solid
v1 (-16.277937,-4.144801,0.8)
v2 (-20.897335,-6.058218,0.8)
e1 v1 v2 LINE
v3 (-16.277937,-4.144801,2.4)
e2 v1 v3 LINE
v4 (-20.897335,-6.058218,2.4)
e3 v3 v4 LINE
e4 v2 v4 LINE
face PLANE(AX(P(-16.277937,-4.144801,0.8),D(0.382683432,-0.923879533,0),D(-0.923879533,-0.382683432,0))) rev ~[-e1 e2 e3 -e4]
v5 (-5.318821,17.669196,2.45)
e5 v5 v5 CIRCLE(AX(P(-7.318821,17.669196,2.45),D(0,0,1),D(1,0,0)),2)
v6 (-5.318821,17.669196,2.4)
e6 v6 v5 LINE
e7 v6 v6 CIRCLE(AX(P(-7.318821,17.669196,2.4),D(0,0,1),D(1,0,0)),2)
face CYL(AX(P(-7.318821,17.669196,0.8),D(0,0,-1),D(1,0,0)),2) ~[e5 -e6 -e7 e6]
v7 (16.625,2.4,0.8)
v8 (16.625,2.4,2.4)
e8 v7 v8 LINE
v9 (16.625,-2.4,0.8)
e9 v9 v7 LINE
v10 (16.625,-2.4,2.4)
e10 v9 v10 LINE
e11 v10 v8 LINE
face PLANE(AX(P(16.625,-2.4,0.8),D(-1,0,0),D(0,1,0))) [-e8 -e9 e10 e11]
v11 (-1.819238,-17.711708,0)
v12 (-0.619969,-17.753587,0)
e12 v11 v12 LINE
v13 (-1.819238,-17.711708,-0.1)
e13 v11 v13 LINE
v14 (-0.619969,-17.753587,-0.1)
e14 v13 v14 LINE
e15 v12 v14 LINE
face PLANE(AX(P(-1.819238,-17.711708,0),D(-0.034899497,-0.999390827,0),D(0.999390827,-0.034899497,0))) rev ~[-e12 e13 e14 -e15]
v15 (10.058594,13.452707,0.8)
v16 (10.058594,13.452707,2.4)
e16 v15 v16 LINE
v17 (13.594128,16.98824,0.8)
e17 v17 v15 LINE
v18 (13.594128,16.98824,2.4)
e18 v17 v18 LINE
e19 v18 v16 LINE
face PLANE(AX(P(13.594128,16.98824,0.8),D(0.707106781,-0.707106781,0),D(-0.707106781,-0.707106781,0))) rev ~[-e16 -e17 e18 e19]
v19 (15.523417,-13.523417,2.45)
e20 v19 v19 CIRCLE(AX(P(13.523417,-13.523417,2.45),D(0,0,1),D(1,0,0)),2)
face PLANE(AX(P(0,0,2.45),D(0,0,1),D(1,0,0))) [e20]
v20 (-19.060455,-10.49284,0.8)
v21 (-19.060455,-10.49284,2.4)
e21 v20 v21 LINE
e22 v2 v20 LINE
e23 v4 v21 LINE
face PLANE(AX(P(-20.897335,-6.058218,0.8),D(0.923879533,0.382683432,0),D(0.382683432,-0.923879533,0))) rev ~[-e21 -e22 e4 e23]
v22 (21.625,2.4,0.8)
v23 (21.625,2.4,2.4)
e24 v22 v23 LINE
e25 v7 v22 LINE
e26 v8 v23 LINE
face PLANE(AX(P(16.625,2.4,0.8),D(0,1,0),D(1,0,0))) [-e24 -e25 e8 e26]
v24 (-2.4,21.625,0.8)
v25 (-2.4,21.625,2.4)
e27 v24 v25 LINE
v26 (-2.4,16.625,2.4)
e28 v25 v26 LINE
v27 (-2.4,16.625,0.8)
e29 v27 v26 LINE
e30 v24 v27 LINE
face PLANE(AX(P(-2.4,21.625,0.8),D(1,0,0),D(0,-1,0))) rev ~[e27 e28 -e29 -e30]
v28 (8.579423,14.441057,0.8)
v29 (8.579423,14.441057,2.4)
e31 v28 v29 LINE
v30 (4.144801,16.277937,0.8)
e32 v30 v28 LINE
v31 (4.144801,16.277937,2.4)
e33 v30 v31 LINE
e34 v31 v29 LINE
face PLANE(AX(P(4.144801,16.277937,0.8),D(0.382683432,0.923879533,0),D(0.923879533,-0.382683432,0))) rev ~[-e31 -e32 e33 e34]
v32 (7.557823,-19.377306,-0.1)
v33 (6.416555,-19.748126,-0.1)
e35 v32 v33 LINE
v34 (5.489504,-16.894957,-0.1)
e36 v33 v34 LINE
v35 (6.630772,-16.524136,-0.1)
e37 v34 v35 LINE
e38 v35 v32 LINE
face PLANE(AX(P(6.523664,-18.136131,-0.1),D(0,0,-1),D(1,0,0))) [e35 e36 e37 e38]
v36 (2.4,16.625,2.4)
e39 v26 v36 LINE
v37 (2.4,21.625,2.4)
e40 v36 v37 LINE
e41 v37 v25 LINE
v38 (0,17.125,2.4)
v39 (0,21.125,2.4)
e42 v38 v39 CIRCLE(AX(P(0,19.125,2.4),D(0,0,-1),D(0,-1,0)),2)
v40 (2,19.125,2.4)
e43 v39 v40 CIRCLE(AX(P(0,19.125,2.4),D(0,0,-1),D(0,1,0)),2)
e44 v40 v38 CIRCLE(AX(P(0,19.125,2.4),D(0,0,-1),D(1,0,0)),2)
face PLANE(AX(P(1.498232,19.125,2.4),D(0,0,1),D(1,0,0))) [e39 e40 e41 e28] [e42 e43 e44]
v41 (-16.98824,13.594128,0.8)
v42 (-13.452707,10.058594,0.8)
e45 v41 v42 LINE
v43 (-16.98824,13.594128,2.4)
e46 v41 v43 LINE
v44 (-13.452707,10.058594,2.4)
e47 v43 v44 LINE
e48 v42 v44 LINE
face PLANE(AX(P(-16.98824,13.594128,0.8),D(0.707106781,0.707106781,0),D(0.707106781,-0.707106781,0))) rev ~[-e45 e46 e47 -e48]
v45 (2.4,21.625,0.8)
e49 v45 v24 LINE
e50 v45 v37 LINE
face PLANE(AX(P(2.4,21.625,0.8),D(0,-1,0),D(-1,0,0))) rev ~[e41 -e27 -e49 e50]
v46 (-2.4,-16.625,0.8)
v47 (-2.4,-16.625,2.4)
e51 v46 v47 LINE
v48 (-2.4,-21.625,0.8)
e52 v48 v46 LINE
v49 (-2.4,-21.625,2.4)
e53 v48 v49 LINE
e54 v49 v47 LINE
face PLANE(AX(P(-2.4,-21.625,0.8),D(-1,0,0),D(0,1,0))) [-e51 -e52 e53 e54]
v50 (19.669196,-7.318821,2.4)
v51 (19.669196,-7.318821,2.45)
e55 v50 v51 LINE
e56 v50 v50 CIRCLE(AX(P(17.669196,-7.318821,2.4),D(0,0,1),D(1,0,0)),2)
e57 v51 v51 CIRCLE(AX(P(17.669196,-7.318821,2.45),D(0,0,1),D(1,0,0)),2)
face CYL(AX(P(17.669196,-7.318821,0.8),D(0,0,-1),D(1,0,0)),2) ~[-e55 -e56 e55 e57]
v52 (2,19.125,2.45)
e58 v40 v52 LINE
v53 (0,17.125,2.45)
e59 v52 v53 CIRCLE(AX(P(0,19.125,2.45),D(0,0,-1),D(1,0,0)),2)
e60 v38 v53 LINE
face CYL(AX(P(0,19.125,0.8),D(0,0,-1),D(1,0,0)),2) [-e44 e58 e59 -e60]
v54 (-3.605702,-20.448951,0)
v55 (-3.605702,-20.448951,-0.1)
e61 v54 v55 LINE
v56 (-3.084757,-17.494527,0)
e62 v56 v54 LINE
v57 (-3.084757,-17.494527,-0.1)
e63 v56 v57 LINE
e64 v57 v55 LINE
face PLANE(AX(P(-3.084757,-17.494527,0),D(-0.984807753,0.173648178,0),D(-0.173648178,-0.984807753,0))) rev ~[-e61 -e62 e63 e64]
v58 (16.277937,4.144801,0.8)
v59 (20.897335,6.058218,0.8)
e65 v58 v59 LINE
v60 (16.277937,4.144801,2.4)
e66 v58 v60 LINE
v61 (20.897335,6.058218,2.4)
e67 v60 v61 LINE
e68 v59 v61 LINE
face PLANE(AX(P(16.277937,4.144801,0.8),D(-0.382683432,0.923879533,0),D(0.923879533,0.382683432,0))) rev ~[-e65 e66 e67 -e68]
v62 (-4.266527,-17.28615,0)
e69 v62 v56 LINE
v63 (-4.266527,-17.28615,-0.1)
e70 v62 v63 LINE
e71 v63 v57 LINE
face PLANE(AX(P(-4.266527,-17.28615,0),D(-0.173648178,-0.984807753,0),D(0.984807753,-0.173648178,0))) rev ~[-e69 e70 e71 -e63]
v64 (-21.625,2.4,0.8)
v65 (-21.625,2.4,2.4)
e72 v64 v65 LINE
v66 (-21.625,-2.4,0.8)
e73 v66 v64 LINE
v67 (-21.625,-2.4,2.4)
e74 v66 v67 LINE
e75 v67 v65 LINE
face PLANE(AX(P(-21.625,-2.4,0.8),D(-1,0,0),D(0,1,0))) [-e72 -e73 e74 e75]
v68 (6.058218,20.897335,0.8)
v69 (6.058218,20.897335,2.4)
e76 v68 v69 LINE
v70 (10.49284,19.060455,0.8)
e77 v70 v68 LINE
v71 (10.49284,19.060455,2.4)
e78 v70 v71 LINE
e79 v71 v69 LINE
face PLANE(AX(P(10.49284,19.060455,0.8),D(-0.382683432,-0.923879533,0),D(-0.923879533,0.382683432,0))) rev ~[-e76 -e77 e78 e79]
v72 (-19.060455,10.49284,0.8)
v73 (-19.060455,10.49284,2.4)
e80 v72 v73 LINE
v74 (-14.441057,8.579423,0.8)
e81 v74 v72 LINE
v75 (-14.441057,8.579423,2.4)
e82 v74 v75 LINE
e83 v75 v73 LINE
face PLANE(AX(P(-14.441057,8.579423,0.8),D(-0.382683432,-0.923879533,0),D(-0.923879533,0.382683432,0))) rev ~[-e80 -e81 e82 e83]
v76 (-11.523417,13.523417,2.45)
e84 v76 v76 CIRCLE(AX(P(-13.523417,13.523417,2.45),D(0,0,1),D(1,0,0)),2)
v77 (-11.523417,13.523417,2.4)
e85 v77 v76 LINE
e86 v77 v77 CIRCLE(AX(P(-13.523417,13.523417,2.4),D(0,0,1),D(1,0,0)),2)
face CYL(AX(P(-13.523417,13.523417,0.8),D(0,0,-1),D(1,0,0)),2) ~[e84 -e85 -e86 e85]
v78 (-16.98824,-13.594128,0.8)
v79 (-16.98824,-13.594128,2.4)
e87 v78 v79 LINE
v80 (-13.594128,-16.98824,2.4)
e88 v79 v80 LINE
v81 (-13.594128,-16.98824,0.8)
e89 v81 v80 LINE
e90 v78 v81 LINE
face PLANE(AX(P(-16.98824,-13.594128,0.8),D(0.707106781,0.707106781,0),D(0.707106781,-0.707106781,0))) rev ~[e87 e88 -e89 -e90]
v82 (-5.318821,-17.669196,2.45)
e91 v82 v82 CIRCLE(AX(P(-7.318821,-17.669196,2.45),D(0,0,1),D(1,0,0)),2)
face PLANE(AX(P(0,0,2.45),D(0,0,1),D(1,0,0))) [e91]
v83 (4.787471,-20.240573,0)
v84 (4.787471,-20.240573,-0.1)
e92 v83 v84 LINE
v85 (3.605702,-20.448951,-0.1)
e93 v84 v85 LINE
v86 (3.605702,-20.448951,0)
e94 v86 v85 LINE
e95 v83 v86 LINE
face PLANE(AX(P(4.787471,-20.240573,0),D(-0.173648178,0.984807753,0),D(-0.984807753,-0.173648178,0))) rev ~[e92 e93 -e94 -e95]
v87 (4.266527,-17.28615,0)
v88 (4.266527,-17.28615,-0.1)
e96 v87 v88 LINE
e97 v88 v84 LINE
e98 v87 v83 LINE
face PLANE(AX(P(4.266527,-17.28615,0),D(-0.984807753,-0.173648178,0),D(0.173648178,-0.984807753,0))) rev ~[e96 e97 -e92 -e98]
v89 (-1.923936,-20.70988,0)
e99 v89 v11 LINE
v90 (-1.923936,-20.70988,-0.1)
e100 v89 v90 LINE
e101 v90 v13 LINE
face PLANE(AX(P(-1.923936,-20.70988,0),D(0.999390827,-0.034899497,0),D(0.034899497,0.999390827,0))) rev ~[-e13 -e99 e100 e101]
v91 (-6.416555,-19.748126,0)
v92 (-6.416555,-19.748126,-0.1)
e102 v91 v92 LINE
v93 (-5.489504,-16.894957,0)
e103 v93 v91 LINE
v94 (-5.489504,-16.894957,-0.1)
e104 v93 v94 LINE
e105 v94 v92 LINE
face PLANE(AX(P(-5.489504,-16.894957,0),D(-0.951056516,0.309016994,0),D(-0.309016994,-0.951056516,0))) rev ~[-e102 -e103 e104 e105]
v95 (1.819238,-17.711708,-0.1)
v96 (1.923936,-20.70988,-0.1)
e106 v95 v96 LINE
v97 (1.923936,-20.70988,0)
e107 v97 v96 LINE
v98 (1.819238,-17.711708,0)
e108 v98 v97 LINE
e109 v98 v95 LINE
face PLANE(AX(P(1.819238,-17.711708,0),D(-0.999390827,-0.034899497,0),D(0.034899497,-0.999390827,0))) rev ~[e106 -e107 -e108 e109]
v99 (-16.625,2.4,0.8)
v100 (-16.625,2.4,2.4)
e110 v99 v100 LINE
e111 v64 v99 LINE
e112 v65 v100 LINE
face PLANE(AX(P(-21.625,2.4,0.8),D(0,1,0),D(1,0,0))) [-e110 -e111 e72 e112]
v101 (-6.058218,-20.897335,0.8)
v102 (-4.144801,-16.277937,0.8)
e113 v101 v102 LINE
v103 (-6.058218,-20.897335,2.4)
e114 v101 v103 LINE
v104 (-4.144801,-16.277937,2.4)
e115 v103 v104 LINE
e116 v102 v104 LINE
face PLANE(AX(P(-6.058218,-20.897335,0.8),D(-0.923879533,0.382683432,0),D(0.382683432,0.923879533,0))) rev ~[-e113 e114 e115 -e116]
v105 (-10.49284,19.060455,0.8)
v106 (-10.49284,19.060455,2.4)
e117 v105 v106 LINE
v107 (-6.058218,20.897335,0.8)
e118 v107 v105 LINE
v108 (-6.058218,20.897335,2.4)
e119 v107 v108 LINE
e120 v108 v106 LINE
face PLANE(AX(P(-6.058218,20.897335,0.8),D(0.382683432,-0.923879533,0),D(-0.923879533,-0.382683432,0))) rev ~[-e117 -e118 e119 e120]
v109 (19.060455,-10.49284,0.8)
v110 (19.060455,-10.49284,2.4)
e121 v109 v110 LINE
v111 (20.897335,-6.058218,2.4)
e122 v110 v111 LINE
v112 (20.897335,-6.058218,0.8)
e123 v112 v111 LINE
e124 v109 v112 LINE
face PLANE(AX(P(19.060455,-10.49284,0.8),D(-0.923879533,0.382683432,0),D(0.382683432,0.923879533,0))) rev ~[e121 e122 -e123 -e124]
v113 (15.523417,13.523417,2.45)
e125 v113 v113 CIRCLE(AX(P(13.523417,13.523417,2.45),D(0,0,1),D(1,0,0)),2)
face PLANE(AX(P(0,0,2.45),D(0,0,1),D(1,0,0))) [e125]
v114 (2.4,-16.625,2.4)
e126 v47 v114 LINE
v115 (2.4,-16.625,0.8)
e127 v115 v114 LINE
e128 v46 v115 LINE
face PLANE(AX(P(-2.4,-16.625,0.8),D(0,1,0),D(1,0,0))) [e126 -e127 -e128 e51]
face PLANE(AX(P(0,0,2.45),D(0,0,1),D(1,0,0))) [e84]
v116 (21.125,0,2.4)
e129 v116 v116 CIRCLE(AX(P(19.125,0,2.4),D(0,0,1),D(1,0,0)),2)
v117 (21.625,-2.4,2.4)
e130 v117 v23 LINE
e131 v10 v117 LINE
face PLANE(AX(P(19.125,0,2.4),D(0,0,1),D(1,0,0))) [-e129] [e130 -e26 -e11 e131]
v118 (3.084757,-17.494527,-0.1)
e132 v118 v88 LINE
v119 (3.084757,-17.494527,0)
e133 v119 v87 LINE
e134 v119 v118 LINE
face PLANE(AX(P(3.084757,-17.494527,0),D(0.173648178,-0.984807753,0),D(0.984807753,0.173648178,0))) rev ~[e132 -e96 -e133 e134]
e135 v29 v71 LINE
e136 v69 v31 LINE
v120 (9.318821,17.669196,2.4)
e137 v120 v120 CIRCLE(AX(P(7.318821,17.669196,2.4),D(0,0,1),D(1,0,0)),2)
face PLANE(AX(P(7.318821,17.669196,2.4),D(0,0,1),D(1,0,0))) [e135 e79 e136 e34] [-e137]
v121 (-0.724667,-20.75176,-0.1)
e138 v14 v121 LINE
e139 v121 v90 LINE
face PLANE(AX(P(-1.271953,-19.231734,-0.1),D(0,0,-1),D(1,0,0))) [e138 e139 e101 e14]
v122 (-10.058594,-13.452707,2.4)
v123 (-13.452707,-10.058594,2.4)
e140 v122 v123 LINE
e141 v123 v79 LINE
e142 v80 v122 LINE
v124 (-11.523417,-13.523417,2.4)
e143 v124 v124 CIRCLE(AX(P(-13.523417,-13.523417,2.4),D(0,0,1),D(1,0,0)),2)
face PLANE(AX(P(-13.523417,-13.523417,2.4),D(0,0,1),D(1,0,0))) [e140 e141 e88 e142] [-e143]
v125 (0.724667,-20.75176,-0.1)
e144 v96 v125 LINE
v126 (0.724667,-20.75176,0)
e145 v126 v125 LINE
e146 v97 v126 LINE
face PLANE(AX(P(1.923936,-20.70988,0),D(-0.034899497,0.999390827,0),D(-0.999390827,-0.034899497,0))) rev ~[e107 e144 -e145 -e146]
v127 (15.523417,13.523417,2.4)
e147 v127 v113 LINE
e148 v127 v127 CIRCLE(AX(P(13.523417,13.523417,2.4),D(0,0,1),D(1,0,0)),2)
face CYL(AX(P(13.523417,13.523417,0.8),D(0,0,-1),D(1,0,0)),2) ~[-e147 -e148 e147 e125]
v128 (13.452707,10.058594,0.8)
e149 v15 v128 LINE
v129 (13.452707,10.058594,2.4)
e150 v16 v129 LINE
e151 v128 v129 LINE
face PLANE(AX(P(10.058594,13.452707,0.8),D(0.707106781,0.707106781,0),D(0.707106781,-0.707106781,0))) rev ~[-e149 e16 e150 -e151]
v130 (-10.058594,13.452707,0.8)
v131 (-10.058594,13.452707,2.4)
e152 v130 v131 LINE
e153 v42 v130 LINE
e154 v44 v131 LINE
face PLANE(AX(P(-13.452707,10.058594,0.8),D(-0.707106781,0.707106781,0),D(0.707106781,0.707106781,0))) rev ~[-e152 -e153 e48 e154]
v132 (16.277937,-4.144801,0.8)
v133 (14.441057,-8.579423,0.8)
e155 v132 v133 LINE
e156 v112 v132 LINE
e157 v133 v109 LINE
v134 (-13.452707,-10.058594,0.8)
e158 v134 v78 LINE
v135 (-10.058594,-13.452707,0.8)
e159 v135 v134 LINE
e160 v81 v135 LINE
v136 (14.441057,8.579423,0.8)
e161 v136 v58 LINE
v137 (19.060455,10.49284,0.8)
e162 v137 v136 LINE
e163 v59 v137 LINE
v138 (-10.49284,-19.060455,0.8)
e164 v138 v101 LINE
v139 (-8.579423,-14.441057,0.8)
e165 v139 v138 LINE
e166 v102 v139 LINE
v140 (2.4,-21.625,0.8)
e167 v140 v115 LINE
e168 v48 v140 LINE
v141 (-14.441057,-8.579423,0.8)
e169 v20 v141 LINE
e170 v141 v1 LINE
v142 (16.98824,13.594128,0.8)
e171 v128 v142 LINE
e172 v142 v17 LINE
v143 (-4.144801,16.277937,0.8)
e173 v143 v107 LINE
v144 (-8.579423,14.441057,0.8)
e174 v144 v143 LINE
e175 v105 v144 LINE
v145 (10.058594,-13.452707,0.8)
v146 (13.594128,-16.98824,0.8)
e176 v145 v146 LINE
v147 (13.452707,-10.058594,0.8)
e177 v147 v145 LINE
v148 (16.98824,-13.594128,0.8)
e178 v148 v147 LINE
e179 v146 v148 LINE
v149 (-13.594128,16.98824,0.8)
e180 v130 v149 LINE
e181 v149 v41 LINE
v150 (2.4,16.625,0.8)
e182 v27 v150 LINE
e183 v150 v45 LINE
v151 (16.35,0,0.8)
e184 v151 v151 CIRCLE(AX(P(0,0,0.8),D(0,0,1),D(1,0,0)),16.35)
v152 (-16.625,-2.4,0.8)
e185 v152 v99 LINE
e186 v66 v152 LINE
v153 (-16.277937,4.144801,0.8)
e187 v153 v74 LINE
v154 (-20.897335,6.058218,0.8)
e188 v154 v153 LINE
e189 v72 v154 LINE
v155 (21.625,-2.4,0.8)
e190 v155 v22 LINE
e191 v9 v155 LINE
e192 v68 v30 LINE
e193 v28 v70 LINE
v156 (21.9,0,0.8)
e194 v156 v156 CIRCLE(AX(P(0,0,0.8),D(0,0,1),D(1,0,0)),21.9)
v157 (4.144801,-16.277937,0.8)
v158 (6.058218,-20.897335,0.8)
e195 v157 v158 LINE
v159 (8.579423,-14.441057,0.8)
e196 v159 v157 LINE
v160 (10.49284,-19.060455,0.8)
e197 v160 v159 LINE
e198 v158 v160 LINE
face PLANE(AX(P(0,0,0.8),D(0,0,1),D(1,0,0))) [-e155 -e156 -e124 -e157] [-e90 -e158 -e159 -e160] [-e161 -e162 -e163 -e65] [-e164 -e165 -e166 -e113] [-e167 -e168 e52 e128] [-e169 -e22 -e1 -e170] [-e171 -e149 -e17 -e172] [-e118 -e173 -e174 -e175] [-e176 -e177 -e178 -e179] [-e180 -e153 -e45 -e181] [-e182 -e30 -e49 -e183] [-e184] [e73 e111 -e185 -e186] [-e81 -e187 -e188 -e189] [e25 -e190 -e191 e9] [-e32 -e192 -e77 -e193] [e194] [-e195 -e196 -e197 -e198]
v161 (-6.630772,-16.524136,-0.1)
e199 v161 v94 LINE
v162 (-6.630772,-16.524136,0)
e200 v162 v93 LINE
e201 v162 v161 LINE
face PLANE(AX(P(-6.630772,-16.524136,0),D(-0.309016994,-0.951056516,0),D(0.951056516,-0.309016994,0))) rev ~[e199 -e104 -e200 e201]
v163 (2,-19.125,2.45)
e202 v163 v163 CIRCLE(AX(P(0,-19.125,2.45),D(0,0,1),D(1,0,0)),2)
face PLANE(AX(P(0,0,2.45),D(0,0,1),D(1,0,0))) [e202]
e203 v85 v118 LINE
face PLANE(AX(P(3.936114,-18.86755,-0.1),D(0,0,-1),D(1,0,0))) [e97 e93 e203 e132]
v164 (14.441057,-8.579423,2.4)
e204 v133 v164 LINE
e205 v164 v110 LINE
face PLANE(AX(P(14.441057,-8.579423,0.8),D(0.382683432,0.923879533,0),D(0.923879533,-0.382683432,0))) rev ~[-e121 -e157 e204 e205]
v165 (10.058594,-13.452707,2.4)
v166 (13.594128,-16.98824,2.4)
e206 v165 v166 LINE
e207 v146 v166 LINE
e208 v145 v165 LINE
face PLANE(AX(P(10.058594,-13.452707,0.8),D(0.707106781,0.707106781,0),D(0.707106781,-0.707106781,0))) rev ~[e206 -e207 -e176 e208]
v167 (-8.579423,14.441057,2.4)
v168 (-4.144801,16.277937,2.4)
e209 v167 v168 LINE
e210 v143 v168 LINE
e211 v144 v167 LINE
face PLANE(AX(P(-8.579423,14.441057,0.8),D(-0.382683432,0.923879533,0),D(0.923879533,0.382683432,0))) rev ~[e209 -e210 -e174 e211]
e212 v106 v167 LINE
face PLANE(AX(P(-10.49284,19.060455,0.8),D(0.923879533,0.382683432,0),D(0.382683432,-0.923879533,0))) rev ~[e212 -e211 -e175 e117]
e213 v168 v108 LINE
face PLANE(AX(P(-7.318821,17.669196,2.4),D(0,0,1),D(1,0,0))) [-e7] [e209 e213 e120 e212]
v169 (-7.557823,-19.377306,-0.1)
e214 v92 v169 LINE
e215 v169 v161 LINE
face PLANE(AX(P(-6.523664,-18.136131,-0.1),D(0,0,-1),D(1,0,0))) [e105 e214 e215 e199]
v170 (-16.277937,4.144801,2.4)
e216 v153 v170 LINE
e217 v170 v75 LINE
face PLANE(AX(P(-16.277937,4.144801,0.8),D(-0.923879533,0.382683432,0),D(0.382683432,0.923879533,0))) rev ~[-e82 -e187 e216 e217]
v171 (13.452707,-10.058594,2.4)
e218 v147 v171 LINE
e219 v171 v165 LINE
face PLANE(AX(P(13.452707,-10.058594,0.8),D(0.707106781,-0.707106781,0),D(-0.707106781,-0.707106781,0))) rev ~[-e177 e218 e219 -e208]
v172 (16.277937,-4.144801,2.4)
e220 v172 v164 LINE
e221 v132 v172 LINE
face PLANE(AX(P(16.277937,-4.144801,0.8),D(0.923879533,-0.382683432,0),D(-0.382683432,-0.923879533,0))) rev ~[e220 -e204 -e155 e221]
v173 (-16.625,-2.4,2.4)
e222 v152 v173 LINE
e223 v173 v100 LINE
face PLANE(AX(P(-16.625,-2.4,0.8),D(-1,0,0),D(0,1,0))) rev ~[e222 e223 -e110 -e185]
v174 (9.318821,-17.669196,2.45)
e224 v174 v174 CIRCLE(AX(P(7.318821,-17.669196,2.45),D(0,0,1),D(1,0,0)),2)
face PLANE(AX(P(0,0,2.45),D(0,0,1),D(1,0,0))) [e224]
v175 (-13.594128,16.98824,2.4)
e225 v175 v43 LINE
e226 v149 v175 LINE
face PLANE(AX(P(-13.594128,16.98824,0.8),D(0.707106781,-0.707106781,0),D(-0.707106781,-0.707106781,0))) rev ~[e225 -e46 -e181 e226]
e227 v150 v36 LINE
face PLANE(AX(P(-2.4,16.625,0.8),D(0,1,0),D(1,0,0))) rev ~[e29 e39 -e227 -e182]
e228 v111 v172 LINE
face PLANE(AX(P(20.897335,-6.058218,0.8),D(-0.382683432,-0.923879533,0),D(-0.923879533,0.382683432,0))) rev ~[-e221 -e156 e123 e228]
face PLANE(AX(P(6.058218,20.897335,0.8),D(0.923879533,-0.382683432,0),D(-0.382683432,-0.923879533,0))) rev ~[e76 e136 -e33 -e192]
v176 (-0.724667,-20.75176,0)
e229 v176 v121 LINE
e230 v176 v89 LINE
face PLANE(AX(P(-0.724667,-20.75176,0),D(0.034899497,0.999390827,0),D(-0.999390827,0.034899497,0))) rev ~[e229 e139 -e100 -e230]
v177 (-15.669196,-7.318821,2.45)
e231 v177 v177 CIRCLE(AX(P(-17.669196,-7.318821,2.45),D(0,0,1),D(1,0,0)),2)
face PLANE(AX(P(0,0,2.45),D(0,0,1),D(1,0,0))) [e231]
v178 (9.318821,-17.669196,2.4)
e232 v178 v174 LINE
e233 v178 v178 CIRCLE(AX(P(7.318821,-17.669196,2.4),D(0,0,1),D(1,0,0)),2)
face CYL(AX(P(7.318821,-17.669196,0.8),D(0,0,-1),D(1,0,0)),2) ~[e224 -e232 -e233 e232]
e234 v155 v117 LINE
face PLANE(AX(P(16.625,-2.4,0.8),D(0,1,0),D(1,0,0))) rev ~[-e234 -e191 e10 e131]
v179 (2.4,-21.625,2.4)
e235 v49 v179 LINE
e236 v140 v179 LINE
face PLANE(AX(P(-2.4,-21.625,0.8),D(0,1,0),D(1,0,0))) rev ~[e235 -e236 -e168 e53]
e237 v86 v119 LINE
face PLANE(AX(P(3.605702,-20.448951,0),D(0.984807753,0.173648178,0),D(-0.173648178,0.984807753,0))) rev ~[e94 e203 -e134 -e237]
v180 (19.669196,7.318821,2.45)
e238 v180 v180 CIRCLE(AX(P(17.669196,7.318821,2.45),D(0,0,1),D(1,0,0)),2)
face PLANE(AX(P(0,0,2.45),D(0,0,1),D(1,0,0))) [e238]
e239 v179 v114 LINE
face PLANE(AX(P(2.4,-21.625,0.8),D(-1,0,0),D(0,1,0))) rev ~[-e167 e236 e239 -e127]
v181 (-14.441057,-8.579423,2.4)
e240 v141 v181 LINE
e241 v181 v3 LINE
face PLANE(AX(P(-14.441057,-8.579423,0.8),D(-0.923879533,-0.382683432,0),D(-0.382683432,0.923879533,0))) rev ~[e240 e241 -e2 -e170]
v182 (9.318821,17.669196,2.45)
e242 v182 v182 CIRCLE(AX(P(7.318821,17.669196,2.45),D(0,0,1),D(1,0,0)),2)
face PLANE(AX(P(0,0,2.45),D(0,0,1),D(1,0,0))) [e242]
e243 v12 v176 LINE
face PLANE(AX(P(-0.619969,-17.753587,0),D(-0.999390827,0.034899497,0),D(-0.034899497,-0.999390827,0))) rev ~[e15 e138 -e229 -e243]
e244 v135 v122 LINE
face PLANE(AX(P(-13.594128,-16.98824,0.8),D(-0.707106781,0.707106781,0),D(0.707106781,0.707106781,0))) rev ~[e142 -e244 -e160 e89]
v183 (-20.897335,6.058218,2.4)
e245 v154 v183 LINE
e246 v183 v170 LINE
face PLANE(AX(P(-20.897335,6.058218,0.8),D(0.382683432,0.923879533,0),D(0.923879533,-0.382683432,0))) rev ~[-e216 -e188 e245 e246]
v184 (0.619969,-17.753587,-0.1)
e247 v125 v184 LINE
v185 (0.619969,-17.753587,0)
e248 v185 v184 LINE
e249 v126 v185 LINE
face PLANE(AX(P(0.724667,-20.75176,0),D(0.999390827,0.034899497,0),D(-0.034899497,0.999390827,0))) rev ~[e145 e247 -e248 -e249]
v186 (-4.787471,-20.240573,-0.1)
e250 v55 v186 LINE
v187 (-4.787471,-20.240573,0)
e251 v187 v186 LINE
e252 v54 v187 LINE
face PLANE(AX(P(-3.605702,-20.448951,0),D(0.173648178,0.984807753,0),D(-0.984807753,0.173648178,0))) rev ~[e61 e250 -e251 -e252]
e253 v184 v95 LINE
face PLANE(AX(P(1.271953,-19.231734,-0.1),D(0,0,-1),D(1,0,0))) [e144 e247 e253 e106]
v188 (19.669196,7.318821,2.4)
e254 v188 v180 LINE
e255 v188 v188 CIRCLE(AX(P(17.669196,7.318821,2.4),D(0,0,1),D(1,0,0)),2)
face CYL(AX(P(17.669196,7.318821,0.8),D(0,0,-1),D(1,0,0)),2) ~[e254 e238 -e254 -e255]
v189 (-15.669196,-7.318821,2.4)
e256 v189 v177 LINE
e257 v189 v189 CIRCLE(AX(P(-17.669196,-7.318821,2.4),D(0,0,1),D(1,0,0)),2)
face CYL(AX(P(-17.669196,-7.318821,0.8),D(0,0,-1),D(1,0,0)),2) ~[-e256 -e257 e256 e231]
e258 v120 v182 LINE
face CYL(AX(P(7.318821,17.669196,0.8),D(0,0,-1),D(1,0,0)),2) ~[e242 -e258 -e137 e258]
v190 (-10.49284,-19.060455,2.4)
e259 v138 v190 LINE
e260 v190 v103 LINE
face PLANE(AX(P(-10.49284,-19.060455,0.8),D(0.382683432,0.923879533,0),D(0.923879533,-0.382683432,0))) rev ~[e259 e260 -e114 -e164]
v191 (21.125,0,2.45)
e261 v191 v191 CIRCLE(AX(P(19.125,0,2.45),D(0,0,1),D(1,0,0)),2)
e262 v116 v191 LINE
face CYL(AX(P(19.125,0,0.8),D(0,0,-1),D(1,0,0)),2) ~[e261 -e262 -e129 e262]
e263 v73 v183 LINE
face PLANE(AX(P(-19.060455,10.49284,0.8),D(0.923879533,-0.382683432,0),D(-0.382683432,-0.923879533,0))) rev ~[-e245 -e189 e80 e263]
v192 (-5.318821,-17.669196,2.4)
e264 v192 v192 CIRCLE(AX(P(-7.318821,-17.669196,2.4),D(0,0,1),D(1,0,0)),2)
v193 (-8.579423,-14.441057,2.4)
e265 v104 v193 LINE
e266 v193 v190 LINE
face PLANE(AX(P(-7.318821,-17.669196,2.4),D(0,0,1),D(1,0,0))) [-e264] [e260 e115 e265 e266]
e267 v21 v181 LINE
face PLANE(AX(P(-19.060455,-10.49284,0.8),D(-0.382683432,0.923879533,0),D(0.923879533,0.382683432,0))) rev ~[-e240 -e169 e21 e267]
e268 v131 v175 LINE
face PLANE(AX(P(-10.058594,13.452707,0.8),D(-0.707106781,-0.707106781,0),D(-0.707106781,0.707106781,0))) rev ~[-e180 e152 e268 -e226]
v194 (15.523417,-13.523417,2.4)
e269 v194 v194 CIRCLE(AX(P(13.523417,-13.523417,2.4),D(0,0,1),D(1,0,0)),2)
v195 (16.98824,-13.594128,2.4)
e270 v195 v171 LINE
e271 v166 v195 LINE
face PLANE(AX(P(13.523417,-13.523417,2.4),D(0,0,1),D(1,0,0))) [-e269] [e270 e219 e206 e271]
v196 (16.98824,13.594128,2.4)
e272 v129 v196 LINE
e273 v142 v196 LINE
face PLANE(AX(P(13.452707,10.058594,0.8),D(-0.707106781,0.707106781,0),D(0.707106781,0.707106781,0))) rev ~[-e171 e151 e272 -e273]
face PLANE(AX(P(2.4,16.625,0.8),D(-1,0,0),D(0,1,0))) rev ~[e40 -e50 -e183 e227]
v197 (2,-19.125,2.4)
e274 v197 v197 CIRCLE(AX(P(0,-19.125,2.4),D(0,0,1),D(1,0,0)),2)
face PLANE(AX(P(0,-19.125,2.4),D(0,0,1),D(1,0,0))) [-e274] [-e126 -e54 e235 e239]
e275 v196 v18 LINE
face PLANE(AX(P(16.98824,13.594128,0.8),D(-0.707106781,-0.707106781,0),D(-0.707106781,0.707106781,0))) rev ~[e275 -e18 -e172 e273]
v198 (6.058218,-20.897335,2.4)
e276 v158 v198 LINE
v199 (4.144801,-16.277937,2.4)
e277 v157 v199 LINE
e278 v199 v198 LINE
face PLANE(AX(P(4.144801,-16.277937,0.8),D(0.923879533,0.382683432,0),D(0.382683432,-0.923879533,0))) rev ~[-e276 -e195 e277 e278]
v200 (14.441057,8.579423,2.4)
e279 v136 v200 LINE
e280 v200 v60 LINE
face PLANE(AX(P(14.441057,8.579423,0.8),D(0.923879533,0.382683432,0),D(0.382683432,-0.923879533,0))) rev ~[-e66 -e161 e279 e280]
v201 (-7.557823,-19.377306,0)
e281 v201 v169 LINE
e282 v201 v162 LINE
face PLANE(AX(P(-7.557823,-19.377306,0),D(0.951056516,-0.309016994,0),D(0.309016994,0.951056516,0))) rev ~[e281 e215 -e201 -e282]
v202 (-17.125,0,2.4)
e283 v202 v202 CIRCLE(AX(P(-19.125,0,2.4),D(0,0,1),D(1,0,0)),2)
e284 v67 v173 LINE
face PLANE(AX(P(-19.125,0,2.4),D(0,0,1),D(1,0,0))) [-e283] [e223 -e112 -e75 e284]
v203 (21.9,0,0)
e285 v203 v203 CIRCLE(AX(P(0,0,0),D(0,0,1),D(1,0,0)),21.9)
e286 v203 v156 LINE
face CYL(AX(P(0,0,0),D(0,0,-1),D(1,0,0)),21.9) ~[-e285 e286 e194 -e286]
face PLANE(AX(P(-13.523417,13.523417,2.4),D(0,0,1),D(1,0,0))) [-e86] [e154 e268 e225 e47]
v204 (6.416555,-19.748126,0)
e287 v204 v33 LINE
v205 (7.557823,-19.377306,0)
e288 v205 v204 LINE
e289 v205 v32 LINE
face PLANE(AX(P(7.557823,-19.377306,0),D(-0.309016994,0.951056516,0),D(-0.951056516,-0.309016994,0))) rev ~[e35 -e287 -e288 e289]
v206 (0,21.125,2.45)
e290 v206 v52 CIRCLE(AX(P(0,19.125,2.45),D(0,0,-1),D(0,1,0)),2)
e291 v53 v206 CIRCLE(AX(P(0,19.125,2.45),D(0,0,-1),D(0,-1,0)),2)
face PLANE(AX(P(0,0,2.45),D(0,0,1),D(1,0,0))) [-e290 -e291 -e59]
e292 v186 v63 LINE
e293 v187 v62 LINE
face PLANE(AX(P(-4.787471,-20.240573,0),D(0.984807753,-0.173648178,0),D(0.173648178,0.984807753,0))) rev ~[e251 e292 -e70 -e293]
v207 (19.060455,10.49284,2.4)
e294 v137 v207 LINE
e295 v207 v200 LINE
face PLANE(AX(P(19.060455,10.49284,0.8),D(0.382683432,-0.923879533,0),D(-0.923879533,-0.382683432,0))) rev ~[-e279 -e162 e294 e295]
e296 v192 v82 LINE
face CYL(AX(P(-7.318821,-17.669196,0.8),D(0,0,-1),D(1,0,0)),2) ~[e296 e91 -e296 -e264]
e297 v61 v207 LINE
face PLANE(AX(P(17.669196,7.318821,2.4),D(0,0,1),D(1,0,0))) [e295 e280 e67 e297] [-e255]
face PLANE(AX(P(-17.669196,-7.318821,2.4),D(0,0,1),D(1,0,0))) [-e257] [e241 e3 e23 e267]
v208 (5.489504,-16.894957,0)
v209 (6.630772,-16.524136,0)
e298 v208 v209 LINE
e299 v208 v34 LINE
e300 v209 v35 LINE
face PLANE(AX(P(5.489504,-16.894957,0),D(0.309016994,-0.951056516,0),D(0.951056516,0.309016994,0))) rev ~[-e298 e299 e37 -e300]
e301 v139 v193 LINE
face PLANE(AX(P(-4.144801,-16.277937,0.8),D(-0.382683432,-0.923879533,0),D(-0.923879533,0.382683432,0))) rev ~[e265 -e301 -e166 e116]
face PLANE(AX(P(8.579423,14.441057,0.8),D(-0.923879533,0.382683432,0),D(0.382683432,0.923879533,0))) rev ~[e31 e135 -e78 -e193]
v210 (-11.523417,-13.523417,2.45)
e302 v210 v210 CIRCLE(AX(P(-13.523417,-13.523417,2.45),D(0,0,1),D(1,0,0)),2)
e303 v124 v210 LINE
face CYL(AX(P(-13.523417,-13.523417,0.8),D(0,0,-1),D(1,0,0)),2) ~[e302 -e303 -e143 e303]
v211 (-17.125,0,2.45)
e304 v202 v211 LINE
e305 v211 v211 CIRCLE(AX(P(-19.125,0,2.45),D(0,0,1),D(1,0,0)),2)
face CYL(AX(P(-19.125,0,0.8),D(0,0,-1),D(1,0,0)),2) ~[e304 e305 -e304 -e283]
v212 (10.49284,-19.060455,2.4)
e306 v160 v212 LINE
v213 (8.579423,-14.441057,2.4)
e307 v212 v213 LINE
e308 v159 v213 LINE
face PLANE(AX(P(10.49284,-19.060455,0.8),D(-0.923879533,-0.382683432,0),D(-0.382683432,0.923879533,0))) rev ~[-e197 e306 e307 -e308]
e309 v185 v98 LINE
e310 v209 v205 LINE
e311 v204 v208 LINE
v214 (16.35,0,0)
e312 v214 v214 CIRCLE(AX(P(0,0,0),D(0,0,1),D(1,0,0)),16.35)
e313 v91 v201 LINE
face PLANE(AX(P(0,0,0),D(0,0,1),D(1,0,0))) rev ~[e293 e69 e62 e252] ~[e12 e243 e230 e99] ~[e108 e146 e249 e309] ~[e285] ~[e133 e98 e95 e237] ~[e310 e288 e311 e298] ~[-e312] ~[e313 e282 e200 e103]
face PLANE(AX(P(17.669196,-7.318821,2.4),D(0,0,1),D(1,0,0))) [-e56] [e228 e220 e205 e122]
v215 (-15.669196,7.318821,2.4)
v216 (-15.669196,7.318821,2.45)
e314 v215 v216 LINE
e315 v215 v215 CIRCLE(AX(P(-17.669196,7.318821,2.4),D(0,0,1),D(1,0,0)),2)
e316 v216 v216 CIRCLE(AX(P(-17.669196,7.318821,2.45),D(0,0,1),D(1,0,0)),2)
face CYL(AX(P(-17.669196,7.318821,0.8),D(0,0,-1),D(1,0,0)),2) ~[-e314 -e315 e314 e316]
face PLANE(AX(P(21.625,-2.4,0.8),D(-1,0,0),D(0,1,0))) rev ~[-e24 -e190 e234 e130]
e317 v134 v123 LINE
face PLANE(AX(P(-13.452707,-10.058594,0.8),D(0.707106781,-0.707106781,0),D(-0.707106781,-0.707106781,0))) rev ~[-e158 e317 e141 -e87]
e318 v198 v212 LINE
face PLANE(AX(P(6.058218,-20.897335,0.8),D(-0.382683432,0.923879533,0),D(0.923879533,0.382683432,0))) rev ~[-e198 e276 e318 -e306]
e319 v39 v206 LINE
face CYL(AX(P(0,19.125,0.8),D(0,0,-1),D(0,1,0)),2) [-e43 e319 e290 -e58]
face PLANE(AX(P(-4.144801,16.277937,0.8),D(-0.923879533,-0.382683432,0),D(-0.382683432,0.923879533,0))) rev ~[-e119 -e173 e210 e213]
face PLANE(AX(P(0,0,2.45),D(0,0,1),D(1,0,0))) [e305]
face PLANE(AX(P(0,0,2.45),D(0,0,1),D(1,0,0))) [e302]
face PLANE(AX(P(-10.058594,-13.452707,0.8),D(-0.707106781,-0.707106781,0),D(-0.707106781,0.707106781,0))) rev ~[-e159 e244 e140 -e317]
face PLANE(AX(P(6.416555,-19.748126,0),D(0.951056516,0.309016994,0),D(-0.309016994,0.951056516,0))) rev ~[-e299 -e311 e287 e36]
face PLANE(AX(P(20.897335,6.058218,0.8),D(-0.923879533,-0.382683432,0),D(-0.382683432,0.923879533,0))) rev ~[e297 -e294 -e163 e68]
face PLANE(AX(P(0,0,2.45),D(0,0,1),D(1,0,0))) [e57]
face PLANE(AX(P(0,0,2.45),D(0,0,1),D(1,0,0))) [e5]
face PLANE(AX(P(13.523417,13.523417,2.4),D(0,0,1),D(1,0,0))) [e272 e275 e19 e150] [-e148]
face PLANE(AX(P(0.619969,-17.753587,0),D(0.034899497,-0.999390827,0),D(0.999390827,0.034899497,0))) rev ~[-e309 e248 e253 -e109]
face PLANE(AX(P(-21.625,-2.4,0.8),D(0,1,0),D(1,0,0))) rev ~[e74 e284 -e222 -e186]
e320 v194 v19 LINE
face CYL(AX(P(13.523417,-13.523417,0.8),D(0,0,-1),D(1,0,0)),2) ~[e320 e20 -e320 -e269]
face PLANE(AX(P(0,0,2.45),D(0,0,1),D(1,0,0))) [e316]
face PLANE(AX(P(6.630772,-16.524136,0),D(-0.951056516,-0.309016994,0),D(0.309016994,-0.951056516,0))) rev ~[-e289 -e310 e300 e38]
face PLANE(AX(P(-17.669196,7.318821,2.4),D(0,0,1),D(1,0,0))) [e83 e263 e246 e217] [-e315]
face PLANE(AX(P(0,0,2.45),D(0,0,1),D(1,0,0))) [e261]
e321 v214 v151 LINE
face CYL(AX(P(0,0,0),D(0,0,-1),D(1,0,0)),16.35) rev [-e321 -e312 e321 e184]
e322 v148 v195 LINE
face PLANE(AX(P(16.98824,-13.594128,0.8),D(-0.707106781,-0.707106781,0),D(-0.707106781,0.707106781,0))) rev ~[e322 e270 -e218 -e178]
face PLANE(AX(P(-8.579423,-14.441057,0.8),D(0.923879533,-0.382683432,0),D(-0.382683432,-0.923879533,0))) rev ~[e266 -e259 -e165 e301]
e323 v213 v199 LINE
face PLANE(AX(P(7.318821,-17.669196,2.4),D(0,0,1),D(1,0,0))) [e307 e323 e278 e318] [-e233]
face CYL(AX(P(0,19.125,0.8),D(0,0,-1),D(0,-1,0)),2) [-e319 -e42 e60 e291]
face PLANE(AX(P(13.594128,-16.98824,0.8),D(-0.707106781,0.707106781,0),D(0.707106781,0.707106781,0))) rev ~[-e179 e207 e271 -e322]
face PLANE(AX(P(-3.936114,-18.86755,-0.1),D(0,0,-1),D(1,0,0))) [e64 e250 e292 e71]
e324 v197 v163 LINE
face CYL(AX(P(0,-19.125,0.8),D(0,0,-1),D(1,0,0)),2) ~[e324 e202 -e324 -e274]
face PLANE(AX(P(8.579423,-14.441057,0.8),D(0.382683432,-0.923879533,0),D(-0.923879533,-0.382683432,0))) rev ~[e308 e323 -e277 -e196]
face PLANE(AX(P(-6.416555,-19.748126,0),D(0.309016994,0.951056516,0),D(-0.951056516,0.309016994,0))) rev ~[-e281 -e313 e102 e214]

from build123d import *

# Parameters (mm, degrees)
F0_R     = 21.9
F0_R_2   = 16.35
F1_DEPTH = 0.8
F2_R     = 2
F2_W     = 5
F2_H     = 4.8
F2_W_2   = 4.8
F2_H_2   = 5
F3_DEPTH = 1.6
F4_DEPTH = 1.65
F6_DEPTH = 0.1


with BuildPart() as f1:
    # F0 (on Top) → F1 (new body)
    with BuildSketch(Plane.XY):
        Circle(F0_R)
        Circle(F0_R_2, mode=Mode.SUBTRACT)
    extrude(amount=F1_DEPTH)

    # F2 (on face) → F3 (join)
    with BuildSketch(Plane.XY.offset(0.8)):
        with BuildLine():
            Line((2.4, 21.625), (0, 21.625))
            Line((0, 21.625), (0, 21.125))
            ThreePointArc((0, 21.125), (1.4142135624, 20.5392135624), (2, 19.125))
            ThreePointArc((2, 19.125), (1.4142135624, 17.7107864376), (0, 17.125))
            Line((0, 17.125), (0, 16.625))
            Line((0, 16.625), (2.4, 16.625))
            Line((2.4, 16.625), (2.4, 21.625))
        make_face()
        with BuildLine():
            Line((0, 21.125), (0, 21.625))
            Line((0, 21.625), (-2.4, 21.625))
            Line((-2.4, 21.625), (-2.4, 16.625))
            Line((-2.4, 16.625), (0, 16.625))
            Line((0, 16.625), (0, 17.125))
            ThreePointArc((0, 17.125), (-2, 19.125), (0, 21.125))
        make_face()
        Polygon((-10.4928401029, 19.0604546529), (-8.5794229411, 14.4410569903), (-4.144801185, 16.2779374657), (-6.0582183469, 20.8973351282), align=None)
        with Locations((-7.318820644, 17.6691960593)):
            Circle(F2_R, mode=Mode.SUBTRACT)
        Polygon((-16.988240418, 13.5941278683), (-13.4527065121, 10.0585939624), (-10.0585939624, 13.4527065121), (-13.5941278683, 16.988240418), align=None)
        with Locations((-13.5234171902, 13.5234171902)):
            Circle(F2_R, mode=Mode.SUBTRACT)
        Polygon((-20.8973351282, 6.0582183469), (-16.2779374657, 4.144801185), (-14.4410569903, 8.5794229411), (-19.0604546529, 10.4928401029), align=None)
        with Locations((-17.6691960593, 7.318820644)):
            Circle(F2_R, mode=Mode.SUBTRACT)
        with Locations((-19.125, 0)):
            Rectangle(F2_W, F2_H)
        with Locations((-19.125, 0)):
            Circle(F2_R, mode=Mode.SUBTRACT)
        Polygon((-19.0604546529, -10.4928401029), (-14.4410569903, -8.5794229411), (-16.2779374657, -4.144801185), (-20.8973351282, -6.0582183469), align=None)
        with Locations((-17.6691960593, -7.318820644)):
            Circle(F2_R, mode=Mode.SUBTRACT)
        Polygon((-13.5941278683, -16.988240418), (-10.0585939624, -13.4527065121), (-13.4527065121, -10.0585939624), (-16.988240418, -13.5941278683), align=None)
        with Locations((-13.5234171902, -13.5234171902)):
            Circle(F2_R, mode=Mode.SUBTRACT)
        Polygon((-6.0582183469, -20.8973351282), (-4.144801185, -16.2779374657), (-8.5794229411, -14.4410569903), (-10.4928401029, -19.0604546529), align=None)
        with Locations((-7.318820644, -17.6691960593)):
            Circle(F2_R, mode=Mode.SUBTRACT)
        with Locations((0, -19.125)):
            Rectangle(F2_W_2, F2_H_2)
        with Locations((0, -19.125)):
            Circle(F2_R, mode=Mode.SUBTRACT)
        Polygon((10.4928401029, -19.0604546529), (8.5794229411, -14.4410569903), (4.144801185, -16.2779374657), (6.0582183469, -20.8973351282), align=None)
        with Locations((7.318820644, -17.6691960593)):
            Circle(F2_R, mode=Mode.SUBTRACT)
        Polygon((16.988240418, -13.5941278683), (13.4527065121, -10.0585939624), (10.0585939624, -13.4527065121), (13.5941278683, -16.988240418), align=None)
        with Locations((13.5234171902, -13.5234171902)):
            Circle(F2_R, mode=Mode.SUBTRACT)
        Polygon((20.8973351282, -6.0582183469), (16.2779374657, -4.144801185), (14.4410569903, -8.5794229411), (19.0604546529, -10.4928401029), align=None)
        with Locations((17.6691960593, -7.318820644)):
            Circle(F2_R, mode=Mode.SUBTRACT)
        with Locations((19.125, 0)):
            Rectangle(F2_W, F2_H)
        with Locations((19.125, 0)):
            Circle(F2_R, mode=Mode.SUBTRACT)
        Polygon((19.0604546529, 10.4928401029), (14.4410569903, 8.5794229411), (16.2779374657, 4.144801185), (20.8973351282, 6.0582183469), align=None)
        with Locations((17.6691960593, 7.318820644)):
            Circle(F2_R, mode=Mode.SUBTRACT)
        Polygon((13.5941278683, 16.988240418), (10.0585939624, 13.4527065121), (13.4527065121, 10.0585939624), (16.988240418, 13.5941278683), align=None)
        with Locations((13.5234171902, 13.5234171902)):
            Circle(F2_R, mode=Mode.SUBTRACT)
        Polygon((6.0582183469, 20.8973351282), (4.144801185, 16.2779374657), (8.5794229411, 14.4410569903), (10.4928401029, 19.0604546529), align=None)
        with Locations((7.318820644, 17.6691960593)):
            Circle(F2_R, mode=Mode.SUBTRACT)
    extrude(amount=F3_DEPTH)

    # F4 (add): faces of the model
    f4_faces = [f1.faces().sort_by_distance(p)[0] for p in [
        (-17.6691960593, 7.318820644, 0.8),
        (-13.5234171902, 13.5234171902, 0.8),
        (-7.318820644, 17.6691960593, 0.8),
        (0, 19.125, 0.8),
        (7.318820644, 17.6691960593, 0.8),
        (-19.125, 0, 0.8),
        (-17.6691960593, -7.318820644, 0.8),
        (-13.5234171902, -13.5234171902, 0.8),
        (-7.318820644, -17.6691960593, 0.8),
        (0, -19.125, 0.8),
        (7.318820644, -17.6691960593, 0.8),
        (13.5234171902, -13.5234171902, 0.8),
        (17.6691960593, -7.318820644, 0.8),
        (19.125, 0, 0.8),
        (13.5234171902, 13.5234171902, 0.8),
        (17.6691960593, 7.318820644, 0.8),
    ]]
    extrude(f4_faces, amount=F4_DEPTH)

    # F5 (on face) → F6 (join)
    with BuildSketch(Plane(origin=(0, 0, 0), x_dir=(1, 0, 0), z_dir=(0, 0, -1))):
        Polygon((7.557822985, 19.3773058048), (6.4165551654, 19.748126198), (5.4895041823, 16.8949566491), (6.6307720019, 16.5241362559), align=None)
        Polygon((1.9239364053, 20.7098801839), (0.7246674128, 20.75175958), (0.6199689227, 17.7535870989), (1.8192379152, 17.7117077029), align=None)
        Polygon((4.7874710341, 20.240572858), (3.6057017305, 20.4489506712), (3.0847571975, 17.4945274122), (4.2665265011, 17.286149599), align=None)
        Polygon((-0.6199689227, 17.7535870989), (-0.7246674128, 20.75175958), (-1.9239364053, 20.7098801839), (-1.8192379152, 17.7117077029), align=None)
        Polygon((-3.0847571975, 17.4945274122), (-3.6057017305, 20.4489506712), (-4.7874710341, 20.240572858), (-4.2665265011, 17.286149599), align=None)
        Polygon((-5.4895041823, 16.8949566491), (-6.4165551654, 19.748126198), (-7.557822985, 19.3773058048), (-6.6307720019, 16.5241362559), align=None)
    extrude(amount=F6_DEPTH)


solid = f1.part
